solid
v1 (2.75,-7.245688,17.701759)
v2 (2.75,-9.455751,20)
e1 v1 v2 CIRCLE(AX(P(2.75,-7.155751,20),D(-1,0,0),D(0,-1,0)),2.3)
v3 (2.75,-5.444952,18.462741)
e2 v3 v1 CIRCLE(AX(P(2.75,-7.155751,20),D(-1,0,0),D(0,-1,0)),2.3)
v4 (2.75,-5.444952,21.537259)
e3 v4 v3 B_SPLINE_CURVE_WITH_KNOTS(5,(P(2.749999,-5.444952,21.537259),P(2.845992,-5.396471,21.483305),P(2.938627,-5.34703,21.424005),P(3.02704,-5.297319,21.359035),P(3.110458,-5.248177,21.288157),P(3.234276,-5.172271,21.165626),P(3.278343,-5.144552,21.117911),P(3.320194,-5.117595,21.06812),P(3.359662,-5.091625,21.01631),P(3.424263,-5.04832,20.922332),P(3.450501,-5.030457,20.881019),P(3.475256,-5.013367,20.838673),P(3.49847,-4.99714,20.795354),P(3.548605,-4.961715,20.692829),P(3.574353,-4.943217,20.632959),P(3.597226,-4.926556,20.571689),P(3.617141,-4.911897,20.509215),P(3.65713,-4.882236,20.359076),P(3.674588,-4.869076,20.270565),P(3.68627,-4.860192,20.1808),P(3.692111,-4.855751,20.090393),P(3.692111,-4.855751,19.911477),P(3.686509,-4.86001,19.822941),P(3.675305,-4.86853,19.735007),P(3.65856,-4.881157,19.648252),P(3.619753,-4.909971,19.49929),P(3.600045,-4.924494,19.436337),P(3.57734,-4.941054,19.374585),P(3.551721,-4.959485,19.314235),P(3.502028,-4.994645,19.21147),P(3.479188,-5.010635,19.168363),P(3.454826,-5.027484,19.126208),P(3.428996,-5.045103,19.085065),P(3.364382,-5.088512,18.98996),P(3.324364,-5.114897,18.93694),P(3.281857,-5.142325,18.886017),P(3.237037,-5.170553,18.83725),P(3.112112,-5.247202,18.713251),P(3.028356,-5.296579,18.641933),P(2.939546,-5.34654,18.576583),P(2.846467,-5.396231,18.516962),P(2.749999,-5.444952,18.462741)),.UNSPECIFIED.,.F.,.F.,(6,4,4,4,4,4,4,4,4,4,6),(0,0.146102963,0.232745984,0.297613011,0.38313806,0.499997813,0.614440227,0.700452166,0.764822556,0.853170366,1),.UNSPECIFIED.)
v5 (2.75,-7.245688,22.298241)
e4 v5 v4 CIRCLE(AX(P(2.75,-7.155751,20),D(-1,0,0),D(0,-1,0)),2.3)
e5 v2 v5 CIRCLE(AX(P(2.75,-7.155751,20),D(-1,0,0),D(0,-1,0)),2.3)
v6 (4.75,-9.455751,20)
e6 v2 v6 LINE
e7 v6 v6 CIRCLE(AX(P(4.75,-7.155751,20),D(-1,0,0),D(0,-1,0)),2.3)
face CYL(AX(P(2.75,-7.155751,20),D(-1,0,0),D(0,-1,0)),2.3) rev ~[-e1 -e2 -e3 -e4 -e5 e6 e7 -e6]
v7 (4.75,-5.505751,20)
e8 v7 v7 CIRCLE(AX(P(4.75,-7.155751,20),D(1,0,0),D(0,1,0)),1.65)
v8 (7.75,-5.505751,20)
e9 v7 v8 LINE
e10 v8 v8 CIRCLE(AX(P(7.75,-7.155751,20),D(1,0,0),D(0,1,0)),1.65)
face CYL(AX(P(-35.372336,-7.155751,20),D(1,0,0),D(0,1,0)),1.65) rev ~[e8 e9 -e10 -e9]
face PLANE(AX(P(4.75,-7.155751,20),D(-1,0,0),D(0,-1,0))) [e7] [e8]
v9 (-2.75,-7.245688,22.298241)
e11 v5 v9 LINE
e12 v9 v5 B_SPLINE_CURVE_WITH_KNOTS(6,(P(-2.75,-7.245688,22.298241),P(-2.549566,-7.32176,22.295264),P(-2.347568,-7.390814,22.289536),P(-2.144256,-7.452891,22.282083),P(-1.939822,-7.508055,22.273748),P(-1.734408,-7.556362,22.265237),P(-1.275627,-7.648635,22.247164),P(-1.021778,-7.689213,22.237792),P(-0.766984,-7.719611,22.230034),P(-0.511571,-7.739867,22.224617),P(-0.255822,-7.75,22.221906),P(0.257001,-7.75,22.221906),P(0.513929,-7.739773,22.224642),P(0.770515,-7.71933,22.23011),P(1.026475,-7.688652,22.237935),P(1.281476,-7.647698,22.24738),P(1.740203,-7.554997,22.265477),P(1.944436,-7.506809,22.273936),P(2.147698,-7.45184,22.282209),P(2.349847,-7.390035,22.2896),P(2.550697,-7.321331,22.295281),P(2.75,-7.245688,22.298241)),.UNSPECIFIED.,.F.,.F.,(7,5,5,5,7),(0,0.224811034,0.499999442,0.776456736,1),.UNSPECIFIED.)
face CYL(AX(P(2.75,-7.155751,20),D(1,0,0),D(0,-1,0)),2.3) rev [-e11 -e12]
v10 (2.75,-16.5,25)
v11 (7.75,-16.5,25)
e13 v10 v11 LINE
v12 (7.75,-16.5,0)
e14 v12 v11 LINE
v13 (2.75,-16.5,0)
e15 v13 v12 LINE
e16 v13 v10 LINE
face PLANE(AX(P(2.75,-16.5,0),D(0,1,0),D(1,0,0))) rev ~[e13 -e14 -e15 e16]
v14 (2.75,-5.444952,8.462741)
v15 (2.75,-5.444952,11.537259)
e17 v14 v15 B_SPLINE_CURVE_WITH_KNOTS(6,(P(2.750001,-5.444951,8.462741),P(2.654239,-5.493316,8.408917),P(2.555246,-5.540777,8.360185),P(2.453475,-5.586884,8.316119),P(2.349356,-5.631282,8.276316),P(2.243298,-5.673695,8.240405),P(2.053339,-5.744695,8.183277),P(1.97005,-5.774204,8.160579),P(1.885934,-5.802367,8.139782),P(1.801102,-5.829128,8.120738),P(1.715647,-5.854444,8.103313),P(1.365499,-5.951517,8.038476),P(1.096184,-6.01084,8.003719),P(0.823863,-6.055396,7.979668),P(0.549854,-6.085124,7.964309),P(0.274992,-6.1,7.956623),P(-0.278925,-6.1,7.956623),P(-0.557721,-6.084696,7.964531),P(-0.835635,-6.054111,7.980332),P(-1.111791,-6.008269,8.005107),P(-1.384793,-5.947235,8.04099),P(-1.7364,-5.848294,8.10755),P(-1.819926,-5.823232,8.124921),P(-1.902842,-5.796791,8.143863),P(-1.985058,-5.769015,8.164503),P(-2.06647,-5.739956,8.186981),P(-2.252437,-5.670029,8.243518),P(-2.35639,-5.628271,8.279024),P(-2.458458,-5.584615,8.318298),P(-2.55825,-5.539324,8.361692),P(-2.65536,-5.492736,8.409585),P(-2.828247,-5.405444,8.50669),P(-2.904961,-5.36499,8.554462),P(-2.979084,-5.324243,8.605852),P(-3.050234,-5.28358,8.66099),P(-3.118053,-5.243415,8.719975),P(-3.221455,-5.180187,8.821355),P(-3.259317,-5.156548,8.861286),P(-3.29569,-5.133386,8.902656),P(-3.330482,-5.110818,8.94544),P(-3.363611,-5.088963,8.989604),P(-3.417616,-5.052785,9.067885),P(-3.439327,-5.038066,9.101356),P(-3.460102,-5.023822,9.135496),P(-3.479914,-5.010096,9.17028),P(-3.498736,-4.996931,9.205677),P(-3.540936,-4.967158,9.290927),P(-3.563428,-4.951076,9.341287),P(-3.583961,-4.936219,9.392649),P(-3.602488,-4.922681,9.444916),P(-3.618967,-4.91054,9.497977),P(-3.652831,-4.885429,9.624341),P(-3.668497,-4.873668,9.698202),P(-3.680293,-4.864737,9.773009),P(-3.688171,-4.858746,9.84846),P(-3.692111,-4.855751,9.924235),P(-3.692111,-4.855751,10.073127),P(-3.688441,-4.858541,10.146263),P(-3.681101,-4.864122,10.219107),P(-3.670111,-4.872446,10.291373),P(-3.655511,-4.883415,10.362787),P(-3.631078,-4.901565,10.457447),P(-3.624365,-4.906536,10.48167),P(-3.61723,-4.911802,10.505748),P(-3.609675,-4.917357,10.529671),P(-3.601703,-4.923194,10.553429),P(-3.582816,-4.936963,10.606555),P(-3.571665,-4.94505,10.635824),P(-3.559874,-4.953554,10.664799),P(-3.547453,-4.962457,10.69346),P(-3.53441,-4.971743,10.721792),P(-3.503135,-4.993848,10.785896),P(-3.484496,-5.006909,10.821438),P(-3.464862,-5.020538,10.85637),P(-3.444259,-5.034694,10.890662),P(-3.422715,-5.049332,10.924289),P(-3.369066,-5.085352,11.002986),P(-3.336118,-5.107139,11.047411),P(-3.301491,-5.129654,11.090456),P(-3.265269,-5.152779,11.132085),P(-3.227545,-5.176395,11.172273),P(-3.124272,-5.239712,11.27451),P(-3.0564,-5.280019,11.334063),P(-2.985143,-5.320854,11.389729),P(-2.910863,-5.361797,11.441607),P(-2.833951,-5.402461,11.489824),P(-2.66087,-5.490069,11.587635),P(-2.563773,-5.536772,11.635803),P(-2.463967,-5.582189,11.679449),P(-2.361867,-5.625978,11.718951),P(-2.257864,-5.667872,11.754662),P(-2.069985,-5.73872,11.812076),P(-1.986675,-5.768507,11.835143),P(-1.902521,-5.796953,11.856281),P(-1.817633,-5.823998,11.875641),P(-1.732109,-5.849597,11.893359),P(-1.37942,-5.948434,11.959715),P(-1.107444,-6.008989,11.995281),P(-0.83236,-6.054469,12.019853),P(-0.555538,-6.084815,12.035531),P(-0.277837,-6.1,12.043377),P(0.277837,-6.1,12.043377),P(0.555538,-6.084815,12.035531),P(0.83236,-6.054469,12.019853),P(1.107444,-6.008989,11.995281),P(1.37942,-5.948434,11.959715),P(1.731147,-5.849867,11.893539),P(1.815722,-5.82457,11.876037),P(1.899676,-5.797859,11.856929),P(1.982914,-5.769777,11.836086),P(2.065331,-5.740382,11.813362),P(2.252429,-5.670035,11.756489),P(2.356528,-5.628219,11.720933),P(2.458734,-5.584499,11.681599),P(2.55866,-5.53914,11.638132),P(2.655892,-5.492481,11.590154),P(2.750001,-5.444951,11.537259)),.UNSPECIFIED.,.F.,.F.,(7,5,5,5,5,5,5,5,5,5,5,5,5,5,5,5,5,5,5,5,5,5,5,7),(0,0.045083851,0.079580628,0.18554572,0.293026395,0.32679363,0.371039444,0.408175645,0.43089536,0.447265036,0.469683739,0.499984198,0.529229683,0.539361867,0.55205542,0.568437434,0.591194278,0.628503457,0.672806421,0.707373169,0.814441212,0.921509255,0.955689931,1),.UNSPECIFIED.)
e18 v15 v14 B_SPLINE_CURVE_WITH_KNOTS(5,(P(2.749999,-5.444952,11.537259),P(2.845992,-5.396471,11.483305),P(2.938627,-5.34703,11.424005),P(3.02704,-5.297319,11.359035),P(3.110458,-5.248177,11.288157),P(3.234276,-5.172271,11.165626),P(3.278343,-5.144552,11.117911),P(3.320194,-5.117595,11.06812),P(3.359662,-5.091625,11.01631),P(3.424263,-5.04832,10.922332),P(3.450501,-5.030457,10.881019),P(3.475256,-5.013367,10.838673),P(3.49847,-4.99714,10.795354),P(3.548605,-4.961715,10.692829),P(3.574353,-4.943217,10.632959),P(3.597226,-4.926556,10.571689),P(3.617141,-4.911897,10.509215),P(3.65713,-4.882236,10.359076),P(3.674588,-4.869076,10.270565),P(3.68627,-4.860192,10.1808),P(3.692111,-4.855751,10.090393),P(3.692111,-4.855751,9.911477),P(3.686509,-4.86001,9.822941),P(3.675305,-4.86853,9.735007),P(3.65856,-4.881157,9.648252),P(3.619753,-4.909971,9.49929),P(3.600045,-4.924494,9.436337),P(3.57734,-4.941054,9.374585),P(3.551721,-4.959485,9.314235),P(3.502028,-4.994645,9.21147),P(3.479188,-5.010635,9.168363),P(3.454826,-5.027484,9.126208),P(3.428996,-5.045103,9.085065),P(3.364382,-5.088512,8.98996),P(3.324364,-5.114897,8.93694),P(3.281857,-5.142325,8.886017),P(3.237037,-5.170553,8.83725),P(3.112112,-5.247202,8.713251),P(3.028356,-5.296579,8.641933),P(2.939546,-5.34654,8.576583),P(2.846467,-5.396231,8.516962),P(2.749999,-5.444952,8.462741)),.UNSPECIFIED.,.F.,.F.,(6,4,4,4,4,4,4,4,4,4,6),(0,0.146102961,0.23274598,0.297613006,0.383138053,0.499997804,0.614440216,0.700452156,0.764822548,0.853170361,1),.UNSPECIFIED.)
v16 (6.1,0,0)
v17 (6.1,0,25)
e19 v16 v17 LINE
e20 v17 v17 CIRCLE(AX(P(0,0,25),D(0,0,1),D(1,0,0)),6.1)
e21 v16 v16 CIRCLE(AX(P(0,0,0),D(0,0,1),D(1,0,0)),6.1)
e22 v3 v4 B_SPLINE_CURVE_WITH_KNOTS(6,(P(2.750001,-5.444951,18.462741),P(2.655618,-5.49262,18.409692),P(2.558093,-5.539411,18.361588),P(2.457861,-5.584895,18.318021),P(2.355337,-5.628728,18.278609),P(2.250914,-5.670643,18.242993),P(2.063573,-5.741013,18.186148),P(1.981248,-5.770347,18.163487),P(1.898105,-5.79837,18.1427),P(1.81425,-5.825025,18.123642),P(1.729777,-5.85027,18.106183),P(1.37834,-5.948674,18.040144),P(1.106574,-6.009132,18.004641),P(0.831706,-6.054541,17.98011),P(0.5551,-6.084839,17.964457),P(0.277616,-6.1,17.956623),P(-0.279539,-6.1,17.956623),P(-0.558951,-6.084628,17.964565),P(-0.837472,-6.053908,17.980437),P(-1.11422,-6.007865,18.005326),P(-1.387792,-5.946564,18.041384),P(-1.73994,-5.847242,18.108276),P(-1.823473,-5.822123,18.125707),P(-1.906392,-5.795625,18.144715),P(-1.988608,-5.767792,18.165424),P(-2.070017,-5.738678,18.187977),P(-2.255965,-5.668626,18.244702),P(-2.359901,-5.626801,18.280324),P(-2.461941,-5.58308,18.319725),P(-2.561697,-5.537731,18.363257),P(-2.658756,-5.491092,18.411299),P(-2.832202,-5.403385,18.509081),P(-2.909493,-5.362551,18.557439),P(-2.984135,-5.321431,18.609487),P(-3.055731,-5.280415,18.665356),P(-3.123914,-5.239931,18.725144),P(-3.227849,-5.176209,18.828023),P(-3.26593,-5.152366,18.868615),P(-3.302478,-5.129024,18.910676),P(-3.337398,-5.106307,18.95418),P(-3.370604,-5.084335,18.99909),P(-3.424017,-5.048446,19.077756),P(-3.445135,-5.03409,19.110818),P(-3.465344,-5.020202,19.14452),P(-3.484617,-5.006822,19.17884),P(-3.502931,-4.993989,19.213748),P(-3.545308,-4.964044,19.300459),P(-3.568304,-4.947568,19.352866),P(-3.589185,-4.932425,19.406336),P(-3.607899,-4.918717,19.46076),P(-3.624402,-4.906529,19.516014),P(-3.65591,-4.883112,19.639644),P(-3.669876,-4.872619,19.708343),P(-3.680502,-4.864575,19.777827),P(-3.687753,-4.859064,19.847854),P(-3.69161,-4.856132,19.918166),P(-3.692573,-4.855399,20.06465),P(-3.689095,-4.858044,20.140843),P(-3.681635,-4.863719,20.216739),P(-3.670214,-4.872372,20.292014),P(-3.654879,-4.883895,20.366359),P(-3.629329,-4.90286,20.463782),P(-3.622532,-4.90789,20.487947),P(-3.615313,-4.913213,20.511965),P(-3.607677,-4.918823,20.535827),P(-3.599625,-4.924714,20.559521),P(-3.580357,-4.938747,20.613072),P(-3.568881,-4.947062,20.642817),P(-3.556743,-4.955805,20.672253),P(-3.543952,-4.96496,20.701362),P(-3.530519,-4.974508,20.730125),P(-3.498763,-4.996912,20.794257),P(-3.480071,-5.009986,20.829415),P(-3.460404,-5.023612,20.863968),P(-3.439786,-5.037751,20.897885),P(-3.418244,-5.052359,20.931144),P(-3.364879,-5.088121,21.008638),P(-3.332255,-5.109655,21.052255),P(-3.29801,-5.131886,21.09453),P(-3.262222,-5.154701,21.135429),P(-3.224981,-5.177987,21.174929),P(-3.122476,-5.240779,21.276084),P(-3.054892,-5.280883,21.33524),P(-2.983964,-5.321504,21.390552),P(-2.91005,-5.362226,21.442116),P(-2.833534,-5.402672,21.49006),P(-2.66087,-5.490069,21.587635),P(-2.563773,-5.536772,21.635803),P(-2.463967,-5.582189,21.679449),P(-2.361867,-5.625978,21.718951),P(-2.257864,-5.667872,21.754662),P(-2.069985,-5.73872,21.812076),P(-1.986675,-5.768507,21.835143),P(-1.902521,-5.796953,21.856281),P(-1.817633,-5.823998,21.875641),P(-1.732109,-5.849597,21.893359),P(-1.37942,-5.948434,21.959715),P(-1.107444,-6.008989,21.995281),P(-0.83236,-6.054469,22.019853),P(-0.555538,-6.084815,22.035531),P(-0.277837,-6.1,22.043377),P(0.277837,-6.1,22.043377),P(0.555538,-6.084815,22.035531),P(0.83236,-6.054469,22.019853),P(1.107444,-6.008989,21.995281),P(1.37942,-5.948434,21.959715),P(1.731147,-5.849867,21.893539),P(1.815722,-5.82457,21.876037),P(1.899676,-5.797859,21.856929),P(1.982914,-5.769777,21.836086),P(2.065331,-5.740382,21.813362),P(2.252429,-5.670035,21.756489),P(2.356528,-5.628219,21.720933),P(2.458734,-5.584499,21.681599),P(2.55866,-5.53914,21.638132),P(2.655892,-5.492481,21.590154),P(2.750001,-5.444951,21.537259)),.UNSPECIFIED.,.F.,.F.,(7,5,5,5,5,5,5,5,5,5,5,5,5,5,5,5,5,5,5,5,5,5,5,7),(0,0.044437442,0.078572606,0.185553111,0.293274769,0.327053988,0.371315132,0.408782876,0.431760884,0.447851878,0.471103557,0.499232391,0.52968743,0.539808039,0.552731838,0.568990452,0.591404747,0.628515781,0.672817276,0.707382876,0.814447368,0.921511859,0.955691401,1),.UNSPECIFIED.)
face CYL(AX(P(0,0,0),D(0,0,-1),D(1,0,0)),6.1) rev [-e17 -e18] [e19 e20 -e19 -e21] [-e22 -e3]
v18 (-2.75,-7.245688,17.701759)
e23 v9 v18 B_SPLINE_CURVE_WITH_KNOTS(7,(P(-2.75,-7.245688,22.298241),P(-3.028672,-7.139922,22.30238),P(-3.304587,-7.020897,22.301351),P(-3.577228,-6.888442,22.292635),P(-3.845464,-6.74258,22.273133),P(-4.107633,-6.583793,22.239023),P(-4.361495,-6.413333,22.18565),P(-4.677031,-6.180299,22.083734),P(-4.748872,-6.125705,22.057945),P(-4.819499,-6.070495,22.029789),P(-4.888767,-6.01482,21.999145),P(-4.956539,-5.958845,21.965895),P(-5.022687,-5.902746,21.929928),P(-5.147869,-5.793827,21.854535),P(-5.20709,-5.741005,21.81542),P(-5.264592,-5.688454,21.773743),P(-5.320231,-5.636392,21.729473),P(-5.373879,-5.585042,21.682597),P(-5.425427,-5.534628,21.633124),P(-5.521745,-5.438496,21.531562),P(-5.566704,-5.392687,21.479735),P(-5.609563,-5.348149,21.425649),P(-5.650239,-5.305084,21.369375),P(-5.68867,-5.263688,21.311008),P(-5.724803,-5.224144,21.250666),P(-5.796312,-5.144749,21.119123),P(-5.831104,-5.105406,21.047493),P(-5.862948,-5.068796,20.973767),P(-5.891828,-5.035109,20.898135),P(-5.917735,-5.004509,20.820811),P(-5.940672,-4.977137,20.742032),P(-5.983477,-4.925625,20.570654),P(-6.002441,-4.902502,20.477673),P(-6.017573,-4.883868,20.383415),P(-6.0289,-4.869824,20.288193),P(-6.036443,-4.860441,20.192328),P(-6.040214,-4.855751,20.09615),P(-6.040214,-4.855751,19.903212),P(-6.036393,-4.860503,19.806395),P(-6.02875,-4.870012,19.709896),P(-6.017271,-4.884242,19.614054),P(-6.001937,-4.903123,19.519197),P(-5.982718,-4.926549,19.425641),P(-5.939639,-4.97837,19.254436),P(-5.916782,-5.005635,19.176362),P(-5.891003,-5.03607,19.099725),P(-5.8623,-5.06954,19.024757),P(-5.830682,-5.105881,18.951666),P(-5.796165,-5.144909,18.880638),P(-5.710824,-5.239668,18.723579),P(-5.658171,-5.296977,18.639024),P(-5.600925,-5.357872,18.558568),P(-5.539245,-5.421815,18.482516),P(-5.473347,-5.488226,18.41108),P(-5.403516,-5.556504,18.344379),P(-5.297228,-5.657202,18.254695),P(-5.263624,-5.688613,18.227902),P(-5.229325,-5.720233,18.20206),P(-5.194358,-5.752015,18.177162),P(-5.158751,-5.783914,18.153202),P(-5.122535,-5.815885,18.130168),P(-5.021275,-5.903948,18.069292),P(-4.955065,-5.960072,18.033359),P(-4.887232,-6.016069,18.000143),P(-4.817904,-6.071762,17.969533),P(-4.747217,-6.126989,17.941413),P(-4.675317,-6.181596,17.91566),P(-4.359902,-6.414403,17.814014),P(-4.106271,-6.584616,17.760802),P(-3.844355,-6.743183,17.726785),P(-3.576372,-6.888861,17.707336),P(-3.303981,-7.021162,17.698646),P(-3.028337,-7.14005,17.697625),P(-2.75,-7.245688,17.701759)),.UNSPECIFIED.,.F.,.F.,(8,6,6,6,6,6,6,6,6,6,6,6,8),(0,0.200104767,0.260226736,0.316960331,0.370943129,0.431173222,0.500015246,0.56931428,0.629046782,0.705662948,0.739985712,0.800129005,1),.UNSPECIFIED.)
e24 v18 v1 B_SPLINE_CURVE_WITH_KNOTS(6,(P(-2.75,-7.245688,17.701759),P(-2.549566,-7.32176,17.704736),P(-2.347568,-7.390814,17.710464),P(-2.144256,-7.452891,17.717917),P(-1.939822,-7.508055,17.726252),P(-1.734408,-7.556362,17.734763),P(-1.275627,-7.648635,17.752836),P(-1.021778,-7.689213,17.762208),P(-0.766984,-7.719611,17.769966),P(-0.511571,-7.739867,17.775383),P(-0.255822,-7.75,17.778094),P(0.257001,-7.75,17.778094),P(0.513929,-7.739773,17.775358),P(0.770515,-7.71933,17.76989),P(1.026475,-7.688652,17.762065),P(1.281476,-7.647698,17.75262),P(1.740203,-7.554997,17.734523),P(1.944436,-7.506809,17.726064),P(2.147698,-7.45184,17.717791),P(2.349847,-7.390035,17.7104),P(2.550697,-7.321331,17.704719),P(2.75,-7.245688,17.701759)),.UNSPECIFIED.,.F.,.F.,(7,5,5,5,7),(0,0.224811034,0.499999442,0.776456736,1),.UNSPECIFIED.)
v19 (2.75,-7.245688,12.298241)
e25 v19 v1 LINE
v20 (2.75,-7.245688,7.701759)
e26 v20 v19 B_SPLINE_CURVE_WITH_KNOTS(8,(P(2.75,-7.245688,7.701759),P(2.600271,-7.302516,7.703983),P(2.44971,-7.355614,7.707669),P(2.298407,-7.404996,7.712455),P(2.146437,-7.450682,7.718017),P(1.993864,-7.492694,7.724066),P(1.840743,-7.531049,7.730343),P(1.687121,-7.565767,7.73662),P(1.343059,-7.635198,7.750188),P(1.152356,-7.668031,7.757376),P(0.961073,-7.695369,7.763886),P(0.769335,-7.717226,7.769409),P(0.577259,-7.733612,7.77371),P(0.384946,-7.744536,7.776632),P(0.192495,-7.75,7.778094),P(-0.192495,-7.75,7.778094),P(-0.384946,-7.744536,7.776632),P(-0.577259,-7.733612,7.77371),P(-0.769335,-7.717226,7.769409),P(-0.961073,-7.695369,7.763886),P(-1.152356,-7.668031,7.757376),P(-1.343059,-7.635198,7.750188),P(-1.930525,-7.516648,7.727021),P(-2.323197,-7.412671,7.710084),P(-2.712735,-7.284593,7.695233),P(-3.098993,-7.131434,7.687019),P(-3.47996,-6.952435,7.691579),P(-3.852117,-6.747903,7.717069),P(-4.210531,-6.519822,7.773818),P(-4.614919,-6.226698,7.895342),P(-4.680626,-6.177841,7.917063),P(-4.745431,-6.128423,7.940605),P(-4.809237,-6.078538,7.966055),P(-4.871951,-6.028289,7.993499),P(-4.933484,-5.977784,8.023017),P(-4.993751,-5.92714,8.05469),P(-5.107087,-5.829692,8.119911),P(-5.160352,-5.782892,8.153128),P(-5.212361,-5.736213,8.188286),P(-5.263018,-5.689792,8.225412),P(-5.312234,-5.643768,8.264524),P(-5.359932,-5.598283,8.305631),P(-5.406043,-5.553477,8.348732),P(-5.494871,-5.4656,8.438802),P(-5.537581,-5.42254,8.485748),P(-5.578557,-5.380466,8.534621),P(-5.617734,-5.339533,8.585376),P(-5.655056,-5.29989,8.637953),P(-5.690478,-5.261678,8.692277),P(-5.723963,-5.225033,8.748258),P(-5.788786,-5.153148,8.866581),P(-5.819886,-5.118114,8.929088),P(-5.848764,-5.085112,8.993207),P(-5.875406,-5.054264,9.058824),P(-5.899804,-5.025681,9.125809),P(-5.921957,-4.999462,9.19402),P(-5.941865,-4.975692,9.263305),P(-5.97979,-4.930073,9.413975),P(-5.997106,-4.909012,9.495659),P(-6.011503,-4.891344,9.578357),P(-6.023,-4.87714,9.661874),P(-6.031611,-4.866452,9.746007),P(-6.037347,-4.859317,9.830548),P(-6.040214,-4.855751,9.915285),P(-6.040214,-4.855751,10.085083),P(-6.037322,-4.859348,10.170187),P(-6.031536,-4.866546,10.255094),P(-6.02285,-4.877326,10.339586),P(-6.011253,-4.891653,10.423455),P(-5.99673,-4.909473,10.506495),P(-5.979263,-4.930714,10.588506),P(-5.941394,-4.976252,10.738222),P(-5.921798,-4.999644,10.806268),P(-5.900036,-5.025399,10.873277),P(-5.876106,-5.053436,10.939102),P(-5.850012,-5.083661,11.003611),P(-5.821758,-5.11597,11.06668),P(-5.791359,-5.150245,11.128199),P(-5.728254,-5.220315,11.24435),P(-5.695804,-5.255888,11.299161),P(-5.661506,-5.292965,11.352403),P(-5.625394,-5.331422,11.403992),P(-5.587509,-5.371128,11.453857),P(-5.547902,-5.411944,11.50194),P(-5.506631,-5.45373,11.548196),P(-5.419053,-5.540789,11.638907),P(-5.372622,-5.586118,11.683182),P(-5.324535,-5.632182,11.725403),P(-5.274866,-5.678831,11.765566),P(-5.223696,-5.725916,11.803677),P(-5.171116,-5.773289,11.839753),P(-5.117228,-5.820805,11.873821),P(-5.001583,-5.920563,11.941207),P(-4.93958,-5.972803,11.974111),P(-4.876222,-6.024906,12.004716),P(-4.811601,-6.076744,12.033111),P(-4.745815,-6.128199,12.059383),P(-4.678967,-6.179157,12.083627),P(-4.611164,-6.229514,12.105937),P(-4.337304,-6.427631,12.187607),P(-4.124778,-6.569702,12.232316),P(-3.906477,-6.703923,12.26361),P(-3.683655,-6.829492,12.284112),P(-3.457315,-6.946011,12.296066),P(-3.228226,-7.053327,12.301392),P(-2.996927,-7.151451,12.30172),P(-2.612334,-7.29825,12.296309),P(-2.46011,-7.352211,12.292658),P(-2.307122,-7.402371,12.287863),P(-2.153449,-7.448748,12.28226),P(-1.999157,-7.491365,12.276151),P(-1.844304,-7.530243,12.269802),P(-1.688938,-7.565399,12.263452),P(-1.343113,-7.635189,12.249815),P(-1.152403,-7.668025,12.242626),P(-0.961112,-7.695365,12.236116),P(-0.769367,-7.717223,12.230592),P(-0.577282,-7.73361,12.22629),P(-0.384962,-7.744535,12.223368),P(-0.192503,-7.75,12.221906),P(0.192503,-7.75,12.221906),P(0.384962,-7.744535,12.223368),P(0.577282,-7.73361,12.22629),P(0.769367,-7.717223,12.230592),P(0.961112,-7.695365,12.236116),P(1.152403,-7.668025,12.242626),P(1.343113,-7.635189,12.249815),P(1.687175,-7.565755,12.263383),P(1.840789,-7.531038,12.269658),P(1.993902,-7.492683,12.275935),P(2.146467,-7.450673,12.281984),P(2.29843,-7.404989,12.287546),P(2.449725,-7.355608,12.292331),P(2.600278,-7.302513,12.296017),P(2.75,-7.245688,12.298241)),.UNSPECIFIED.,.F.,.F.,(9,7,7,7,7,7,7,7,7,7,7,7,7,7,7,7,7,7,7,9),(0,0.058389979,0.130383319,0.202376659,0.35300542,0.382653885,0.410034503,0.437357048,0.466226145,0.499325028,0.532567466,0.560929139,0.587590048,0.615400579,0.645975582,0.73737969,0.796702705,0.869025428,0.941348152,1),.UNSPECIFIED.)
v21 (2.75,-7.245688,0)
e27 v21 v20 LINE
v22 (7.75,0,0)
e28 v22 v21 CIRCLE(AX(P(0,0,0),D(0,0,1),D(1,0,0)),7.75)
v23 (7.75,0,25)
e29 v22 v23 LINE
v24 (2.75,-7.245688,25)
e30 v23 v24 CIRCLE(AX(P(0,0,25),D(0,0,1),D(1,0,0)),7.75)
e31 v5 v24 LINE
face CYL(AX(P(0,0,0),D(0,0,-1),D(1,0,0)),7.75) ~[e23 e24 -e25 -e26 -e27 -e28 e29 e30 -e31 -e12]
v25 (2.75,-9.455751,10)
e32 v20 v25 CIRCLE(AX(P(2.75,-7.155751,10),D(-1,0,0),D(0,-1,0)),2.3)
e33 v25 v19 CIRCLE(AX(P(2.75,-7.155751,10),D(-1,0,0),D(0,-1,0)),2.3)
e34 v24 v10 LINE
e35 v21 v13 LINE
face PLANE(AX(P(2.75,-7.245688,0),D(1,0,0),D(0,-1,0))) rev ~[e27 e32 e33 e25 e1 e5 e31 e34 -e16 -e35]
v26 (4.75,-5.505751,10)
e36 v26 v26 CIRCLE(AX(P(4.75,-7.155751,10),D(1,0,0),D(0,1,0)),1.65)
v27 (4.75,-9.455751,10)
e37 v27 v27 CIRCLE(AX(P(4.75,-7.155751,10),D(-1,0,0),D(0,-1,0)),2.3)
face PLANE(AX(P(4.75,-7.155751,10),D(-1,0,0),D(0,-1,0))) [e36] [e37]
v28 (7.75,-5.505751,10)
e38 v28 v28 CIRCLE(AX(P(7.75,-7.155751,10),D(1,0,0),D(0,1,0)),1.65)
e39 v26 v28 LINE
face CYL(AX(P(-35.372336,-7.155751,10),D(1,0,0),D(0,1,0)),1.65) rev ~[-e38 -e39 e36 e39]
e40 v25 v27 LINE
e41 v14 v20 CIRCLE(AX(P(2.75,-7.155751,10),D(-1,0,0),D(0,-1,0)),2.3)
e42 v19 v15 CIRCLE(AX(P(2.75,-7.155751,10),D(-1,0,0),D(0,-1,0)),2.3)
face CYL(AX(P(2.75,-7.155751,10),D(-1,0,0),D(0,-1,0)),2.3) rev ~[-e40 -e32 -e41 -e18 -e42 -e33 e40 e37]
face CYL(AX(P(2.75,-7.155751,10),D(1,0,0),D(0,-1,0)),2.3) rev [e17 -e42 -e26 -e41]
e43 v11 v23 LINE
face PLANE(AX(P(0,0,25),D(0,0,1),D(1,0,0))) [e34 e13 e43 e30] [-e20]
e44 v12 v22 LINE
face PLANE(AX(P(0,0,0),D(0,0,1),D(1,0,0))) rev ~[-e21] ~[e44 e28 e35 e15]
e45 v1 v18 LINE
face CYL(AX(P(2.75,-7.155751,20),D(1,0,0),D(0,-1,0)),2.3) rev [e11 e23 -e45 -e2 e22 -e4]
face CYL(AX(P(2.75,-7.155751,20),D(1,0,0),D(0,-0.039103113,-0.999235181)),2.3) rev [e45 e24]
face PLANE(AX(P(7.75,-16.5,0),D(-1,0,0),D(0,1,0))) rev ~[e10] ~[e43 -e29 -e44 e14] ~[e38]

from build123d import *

# Parameters (mm, degrees)
F0_R     = 6.1
F1_DEPTH = 25
F2_R     = 2.3
F3_DEPTH = 25
F4_DEPTH = 2
F5_D     = 3.3


with BuildPart() as f1:
    # F0 (on Top) → F1 (new body)
    with BuildSketch(Plane.XY):
        with BuildLine():
            ThreePointArc((2.75, -7.2456883731), (6.3786754111, -4.4017042154), (7.75, 0))
            ThreePointArc((7.75, 0), (-6.3786754111, 4.4017042154), (2.75, -7.2456883731))
        make_face()
        Circle(F0_R, mode=Mode.SUBTRACT)
        with BuildLine():
            Line((7.75, -16.5), (7.75, 0))
            ThreePointArc((7.75, 0), (6.3786754111, -4.4017042154), (2.75, -7.2456883731))
            Line((2.75, -7.2456883731), (2.75, -16.5))
            Line((2.75, -16.5), (7.75, -16.5))
        make_face()
    extrude(amount=F1_DEPTH)

    # F2 (on face) → F3 (cut)
    with BuildSketch(Plane(origin=(2.75, 0, 0), x_dir=(0, -1, 0), z_dir=(-1, 0, 0))):
        with BuildLine():
            ThreePointArc((7.2456883731, 17.7017590841), (8.8135894847, 18.4057690674), (9.4557512134, 20))
            ThreePointArc((9.4557512134, 20), (8.8135894847, 21.5942309326), (7.2456883731, 22.2982409159))
            Line((7.2456883731, 22.2982409159), (7.2456883731, 17.7017590841))
        make_face()
        with Locations((7.1557512134, 20)):
            Circle(F2_R)
        with Locations((7.1557512134, 10)):
            Circle(F2_R)
    extrude(amount=F3_DEPTH, mode=Mode.SUBTRACT)

    # F2 (on face) → F4 (cut)
    with BuildSketch(Plane(origin=(2.75, 0, 0), x_dir=(0, -1, 0), z_dir=(-1, 0, 0))):
        with Locations((7.1557512134, 20)):
            Circle(F2_R)
        with Locations((7.1557512134, 10)):
            Circle(F2_R)
    extrude(amount=-F4_DEPTH, mode=Mode.SUBTRACT)

    # F5 (through all)
    with Locations(Plane(origin=(2.75, 0, 0), x_dir=(0, -1, 0), z_dir=(-1, 0, 0))):
        with Locations((7.1557512134, 10), (7.1557512134, 20)):
            Hole(F5_D / 2)


solid = f1.part
